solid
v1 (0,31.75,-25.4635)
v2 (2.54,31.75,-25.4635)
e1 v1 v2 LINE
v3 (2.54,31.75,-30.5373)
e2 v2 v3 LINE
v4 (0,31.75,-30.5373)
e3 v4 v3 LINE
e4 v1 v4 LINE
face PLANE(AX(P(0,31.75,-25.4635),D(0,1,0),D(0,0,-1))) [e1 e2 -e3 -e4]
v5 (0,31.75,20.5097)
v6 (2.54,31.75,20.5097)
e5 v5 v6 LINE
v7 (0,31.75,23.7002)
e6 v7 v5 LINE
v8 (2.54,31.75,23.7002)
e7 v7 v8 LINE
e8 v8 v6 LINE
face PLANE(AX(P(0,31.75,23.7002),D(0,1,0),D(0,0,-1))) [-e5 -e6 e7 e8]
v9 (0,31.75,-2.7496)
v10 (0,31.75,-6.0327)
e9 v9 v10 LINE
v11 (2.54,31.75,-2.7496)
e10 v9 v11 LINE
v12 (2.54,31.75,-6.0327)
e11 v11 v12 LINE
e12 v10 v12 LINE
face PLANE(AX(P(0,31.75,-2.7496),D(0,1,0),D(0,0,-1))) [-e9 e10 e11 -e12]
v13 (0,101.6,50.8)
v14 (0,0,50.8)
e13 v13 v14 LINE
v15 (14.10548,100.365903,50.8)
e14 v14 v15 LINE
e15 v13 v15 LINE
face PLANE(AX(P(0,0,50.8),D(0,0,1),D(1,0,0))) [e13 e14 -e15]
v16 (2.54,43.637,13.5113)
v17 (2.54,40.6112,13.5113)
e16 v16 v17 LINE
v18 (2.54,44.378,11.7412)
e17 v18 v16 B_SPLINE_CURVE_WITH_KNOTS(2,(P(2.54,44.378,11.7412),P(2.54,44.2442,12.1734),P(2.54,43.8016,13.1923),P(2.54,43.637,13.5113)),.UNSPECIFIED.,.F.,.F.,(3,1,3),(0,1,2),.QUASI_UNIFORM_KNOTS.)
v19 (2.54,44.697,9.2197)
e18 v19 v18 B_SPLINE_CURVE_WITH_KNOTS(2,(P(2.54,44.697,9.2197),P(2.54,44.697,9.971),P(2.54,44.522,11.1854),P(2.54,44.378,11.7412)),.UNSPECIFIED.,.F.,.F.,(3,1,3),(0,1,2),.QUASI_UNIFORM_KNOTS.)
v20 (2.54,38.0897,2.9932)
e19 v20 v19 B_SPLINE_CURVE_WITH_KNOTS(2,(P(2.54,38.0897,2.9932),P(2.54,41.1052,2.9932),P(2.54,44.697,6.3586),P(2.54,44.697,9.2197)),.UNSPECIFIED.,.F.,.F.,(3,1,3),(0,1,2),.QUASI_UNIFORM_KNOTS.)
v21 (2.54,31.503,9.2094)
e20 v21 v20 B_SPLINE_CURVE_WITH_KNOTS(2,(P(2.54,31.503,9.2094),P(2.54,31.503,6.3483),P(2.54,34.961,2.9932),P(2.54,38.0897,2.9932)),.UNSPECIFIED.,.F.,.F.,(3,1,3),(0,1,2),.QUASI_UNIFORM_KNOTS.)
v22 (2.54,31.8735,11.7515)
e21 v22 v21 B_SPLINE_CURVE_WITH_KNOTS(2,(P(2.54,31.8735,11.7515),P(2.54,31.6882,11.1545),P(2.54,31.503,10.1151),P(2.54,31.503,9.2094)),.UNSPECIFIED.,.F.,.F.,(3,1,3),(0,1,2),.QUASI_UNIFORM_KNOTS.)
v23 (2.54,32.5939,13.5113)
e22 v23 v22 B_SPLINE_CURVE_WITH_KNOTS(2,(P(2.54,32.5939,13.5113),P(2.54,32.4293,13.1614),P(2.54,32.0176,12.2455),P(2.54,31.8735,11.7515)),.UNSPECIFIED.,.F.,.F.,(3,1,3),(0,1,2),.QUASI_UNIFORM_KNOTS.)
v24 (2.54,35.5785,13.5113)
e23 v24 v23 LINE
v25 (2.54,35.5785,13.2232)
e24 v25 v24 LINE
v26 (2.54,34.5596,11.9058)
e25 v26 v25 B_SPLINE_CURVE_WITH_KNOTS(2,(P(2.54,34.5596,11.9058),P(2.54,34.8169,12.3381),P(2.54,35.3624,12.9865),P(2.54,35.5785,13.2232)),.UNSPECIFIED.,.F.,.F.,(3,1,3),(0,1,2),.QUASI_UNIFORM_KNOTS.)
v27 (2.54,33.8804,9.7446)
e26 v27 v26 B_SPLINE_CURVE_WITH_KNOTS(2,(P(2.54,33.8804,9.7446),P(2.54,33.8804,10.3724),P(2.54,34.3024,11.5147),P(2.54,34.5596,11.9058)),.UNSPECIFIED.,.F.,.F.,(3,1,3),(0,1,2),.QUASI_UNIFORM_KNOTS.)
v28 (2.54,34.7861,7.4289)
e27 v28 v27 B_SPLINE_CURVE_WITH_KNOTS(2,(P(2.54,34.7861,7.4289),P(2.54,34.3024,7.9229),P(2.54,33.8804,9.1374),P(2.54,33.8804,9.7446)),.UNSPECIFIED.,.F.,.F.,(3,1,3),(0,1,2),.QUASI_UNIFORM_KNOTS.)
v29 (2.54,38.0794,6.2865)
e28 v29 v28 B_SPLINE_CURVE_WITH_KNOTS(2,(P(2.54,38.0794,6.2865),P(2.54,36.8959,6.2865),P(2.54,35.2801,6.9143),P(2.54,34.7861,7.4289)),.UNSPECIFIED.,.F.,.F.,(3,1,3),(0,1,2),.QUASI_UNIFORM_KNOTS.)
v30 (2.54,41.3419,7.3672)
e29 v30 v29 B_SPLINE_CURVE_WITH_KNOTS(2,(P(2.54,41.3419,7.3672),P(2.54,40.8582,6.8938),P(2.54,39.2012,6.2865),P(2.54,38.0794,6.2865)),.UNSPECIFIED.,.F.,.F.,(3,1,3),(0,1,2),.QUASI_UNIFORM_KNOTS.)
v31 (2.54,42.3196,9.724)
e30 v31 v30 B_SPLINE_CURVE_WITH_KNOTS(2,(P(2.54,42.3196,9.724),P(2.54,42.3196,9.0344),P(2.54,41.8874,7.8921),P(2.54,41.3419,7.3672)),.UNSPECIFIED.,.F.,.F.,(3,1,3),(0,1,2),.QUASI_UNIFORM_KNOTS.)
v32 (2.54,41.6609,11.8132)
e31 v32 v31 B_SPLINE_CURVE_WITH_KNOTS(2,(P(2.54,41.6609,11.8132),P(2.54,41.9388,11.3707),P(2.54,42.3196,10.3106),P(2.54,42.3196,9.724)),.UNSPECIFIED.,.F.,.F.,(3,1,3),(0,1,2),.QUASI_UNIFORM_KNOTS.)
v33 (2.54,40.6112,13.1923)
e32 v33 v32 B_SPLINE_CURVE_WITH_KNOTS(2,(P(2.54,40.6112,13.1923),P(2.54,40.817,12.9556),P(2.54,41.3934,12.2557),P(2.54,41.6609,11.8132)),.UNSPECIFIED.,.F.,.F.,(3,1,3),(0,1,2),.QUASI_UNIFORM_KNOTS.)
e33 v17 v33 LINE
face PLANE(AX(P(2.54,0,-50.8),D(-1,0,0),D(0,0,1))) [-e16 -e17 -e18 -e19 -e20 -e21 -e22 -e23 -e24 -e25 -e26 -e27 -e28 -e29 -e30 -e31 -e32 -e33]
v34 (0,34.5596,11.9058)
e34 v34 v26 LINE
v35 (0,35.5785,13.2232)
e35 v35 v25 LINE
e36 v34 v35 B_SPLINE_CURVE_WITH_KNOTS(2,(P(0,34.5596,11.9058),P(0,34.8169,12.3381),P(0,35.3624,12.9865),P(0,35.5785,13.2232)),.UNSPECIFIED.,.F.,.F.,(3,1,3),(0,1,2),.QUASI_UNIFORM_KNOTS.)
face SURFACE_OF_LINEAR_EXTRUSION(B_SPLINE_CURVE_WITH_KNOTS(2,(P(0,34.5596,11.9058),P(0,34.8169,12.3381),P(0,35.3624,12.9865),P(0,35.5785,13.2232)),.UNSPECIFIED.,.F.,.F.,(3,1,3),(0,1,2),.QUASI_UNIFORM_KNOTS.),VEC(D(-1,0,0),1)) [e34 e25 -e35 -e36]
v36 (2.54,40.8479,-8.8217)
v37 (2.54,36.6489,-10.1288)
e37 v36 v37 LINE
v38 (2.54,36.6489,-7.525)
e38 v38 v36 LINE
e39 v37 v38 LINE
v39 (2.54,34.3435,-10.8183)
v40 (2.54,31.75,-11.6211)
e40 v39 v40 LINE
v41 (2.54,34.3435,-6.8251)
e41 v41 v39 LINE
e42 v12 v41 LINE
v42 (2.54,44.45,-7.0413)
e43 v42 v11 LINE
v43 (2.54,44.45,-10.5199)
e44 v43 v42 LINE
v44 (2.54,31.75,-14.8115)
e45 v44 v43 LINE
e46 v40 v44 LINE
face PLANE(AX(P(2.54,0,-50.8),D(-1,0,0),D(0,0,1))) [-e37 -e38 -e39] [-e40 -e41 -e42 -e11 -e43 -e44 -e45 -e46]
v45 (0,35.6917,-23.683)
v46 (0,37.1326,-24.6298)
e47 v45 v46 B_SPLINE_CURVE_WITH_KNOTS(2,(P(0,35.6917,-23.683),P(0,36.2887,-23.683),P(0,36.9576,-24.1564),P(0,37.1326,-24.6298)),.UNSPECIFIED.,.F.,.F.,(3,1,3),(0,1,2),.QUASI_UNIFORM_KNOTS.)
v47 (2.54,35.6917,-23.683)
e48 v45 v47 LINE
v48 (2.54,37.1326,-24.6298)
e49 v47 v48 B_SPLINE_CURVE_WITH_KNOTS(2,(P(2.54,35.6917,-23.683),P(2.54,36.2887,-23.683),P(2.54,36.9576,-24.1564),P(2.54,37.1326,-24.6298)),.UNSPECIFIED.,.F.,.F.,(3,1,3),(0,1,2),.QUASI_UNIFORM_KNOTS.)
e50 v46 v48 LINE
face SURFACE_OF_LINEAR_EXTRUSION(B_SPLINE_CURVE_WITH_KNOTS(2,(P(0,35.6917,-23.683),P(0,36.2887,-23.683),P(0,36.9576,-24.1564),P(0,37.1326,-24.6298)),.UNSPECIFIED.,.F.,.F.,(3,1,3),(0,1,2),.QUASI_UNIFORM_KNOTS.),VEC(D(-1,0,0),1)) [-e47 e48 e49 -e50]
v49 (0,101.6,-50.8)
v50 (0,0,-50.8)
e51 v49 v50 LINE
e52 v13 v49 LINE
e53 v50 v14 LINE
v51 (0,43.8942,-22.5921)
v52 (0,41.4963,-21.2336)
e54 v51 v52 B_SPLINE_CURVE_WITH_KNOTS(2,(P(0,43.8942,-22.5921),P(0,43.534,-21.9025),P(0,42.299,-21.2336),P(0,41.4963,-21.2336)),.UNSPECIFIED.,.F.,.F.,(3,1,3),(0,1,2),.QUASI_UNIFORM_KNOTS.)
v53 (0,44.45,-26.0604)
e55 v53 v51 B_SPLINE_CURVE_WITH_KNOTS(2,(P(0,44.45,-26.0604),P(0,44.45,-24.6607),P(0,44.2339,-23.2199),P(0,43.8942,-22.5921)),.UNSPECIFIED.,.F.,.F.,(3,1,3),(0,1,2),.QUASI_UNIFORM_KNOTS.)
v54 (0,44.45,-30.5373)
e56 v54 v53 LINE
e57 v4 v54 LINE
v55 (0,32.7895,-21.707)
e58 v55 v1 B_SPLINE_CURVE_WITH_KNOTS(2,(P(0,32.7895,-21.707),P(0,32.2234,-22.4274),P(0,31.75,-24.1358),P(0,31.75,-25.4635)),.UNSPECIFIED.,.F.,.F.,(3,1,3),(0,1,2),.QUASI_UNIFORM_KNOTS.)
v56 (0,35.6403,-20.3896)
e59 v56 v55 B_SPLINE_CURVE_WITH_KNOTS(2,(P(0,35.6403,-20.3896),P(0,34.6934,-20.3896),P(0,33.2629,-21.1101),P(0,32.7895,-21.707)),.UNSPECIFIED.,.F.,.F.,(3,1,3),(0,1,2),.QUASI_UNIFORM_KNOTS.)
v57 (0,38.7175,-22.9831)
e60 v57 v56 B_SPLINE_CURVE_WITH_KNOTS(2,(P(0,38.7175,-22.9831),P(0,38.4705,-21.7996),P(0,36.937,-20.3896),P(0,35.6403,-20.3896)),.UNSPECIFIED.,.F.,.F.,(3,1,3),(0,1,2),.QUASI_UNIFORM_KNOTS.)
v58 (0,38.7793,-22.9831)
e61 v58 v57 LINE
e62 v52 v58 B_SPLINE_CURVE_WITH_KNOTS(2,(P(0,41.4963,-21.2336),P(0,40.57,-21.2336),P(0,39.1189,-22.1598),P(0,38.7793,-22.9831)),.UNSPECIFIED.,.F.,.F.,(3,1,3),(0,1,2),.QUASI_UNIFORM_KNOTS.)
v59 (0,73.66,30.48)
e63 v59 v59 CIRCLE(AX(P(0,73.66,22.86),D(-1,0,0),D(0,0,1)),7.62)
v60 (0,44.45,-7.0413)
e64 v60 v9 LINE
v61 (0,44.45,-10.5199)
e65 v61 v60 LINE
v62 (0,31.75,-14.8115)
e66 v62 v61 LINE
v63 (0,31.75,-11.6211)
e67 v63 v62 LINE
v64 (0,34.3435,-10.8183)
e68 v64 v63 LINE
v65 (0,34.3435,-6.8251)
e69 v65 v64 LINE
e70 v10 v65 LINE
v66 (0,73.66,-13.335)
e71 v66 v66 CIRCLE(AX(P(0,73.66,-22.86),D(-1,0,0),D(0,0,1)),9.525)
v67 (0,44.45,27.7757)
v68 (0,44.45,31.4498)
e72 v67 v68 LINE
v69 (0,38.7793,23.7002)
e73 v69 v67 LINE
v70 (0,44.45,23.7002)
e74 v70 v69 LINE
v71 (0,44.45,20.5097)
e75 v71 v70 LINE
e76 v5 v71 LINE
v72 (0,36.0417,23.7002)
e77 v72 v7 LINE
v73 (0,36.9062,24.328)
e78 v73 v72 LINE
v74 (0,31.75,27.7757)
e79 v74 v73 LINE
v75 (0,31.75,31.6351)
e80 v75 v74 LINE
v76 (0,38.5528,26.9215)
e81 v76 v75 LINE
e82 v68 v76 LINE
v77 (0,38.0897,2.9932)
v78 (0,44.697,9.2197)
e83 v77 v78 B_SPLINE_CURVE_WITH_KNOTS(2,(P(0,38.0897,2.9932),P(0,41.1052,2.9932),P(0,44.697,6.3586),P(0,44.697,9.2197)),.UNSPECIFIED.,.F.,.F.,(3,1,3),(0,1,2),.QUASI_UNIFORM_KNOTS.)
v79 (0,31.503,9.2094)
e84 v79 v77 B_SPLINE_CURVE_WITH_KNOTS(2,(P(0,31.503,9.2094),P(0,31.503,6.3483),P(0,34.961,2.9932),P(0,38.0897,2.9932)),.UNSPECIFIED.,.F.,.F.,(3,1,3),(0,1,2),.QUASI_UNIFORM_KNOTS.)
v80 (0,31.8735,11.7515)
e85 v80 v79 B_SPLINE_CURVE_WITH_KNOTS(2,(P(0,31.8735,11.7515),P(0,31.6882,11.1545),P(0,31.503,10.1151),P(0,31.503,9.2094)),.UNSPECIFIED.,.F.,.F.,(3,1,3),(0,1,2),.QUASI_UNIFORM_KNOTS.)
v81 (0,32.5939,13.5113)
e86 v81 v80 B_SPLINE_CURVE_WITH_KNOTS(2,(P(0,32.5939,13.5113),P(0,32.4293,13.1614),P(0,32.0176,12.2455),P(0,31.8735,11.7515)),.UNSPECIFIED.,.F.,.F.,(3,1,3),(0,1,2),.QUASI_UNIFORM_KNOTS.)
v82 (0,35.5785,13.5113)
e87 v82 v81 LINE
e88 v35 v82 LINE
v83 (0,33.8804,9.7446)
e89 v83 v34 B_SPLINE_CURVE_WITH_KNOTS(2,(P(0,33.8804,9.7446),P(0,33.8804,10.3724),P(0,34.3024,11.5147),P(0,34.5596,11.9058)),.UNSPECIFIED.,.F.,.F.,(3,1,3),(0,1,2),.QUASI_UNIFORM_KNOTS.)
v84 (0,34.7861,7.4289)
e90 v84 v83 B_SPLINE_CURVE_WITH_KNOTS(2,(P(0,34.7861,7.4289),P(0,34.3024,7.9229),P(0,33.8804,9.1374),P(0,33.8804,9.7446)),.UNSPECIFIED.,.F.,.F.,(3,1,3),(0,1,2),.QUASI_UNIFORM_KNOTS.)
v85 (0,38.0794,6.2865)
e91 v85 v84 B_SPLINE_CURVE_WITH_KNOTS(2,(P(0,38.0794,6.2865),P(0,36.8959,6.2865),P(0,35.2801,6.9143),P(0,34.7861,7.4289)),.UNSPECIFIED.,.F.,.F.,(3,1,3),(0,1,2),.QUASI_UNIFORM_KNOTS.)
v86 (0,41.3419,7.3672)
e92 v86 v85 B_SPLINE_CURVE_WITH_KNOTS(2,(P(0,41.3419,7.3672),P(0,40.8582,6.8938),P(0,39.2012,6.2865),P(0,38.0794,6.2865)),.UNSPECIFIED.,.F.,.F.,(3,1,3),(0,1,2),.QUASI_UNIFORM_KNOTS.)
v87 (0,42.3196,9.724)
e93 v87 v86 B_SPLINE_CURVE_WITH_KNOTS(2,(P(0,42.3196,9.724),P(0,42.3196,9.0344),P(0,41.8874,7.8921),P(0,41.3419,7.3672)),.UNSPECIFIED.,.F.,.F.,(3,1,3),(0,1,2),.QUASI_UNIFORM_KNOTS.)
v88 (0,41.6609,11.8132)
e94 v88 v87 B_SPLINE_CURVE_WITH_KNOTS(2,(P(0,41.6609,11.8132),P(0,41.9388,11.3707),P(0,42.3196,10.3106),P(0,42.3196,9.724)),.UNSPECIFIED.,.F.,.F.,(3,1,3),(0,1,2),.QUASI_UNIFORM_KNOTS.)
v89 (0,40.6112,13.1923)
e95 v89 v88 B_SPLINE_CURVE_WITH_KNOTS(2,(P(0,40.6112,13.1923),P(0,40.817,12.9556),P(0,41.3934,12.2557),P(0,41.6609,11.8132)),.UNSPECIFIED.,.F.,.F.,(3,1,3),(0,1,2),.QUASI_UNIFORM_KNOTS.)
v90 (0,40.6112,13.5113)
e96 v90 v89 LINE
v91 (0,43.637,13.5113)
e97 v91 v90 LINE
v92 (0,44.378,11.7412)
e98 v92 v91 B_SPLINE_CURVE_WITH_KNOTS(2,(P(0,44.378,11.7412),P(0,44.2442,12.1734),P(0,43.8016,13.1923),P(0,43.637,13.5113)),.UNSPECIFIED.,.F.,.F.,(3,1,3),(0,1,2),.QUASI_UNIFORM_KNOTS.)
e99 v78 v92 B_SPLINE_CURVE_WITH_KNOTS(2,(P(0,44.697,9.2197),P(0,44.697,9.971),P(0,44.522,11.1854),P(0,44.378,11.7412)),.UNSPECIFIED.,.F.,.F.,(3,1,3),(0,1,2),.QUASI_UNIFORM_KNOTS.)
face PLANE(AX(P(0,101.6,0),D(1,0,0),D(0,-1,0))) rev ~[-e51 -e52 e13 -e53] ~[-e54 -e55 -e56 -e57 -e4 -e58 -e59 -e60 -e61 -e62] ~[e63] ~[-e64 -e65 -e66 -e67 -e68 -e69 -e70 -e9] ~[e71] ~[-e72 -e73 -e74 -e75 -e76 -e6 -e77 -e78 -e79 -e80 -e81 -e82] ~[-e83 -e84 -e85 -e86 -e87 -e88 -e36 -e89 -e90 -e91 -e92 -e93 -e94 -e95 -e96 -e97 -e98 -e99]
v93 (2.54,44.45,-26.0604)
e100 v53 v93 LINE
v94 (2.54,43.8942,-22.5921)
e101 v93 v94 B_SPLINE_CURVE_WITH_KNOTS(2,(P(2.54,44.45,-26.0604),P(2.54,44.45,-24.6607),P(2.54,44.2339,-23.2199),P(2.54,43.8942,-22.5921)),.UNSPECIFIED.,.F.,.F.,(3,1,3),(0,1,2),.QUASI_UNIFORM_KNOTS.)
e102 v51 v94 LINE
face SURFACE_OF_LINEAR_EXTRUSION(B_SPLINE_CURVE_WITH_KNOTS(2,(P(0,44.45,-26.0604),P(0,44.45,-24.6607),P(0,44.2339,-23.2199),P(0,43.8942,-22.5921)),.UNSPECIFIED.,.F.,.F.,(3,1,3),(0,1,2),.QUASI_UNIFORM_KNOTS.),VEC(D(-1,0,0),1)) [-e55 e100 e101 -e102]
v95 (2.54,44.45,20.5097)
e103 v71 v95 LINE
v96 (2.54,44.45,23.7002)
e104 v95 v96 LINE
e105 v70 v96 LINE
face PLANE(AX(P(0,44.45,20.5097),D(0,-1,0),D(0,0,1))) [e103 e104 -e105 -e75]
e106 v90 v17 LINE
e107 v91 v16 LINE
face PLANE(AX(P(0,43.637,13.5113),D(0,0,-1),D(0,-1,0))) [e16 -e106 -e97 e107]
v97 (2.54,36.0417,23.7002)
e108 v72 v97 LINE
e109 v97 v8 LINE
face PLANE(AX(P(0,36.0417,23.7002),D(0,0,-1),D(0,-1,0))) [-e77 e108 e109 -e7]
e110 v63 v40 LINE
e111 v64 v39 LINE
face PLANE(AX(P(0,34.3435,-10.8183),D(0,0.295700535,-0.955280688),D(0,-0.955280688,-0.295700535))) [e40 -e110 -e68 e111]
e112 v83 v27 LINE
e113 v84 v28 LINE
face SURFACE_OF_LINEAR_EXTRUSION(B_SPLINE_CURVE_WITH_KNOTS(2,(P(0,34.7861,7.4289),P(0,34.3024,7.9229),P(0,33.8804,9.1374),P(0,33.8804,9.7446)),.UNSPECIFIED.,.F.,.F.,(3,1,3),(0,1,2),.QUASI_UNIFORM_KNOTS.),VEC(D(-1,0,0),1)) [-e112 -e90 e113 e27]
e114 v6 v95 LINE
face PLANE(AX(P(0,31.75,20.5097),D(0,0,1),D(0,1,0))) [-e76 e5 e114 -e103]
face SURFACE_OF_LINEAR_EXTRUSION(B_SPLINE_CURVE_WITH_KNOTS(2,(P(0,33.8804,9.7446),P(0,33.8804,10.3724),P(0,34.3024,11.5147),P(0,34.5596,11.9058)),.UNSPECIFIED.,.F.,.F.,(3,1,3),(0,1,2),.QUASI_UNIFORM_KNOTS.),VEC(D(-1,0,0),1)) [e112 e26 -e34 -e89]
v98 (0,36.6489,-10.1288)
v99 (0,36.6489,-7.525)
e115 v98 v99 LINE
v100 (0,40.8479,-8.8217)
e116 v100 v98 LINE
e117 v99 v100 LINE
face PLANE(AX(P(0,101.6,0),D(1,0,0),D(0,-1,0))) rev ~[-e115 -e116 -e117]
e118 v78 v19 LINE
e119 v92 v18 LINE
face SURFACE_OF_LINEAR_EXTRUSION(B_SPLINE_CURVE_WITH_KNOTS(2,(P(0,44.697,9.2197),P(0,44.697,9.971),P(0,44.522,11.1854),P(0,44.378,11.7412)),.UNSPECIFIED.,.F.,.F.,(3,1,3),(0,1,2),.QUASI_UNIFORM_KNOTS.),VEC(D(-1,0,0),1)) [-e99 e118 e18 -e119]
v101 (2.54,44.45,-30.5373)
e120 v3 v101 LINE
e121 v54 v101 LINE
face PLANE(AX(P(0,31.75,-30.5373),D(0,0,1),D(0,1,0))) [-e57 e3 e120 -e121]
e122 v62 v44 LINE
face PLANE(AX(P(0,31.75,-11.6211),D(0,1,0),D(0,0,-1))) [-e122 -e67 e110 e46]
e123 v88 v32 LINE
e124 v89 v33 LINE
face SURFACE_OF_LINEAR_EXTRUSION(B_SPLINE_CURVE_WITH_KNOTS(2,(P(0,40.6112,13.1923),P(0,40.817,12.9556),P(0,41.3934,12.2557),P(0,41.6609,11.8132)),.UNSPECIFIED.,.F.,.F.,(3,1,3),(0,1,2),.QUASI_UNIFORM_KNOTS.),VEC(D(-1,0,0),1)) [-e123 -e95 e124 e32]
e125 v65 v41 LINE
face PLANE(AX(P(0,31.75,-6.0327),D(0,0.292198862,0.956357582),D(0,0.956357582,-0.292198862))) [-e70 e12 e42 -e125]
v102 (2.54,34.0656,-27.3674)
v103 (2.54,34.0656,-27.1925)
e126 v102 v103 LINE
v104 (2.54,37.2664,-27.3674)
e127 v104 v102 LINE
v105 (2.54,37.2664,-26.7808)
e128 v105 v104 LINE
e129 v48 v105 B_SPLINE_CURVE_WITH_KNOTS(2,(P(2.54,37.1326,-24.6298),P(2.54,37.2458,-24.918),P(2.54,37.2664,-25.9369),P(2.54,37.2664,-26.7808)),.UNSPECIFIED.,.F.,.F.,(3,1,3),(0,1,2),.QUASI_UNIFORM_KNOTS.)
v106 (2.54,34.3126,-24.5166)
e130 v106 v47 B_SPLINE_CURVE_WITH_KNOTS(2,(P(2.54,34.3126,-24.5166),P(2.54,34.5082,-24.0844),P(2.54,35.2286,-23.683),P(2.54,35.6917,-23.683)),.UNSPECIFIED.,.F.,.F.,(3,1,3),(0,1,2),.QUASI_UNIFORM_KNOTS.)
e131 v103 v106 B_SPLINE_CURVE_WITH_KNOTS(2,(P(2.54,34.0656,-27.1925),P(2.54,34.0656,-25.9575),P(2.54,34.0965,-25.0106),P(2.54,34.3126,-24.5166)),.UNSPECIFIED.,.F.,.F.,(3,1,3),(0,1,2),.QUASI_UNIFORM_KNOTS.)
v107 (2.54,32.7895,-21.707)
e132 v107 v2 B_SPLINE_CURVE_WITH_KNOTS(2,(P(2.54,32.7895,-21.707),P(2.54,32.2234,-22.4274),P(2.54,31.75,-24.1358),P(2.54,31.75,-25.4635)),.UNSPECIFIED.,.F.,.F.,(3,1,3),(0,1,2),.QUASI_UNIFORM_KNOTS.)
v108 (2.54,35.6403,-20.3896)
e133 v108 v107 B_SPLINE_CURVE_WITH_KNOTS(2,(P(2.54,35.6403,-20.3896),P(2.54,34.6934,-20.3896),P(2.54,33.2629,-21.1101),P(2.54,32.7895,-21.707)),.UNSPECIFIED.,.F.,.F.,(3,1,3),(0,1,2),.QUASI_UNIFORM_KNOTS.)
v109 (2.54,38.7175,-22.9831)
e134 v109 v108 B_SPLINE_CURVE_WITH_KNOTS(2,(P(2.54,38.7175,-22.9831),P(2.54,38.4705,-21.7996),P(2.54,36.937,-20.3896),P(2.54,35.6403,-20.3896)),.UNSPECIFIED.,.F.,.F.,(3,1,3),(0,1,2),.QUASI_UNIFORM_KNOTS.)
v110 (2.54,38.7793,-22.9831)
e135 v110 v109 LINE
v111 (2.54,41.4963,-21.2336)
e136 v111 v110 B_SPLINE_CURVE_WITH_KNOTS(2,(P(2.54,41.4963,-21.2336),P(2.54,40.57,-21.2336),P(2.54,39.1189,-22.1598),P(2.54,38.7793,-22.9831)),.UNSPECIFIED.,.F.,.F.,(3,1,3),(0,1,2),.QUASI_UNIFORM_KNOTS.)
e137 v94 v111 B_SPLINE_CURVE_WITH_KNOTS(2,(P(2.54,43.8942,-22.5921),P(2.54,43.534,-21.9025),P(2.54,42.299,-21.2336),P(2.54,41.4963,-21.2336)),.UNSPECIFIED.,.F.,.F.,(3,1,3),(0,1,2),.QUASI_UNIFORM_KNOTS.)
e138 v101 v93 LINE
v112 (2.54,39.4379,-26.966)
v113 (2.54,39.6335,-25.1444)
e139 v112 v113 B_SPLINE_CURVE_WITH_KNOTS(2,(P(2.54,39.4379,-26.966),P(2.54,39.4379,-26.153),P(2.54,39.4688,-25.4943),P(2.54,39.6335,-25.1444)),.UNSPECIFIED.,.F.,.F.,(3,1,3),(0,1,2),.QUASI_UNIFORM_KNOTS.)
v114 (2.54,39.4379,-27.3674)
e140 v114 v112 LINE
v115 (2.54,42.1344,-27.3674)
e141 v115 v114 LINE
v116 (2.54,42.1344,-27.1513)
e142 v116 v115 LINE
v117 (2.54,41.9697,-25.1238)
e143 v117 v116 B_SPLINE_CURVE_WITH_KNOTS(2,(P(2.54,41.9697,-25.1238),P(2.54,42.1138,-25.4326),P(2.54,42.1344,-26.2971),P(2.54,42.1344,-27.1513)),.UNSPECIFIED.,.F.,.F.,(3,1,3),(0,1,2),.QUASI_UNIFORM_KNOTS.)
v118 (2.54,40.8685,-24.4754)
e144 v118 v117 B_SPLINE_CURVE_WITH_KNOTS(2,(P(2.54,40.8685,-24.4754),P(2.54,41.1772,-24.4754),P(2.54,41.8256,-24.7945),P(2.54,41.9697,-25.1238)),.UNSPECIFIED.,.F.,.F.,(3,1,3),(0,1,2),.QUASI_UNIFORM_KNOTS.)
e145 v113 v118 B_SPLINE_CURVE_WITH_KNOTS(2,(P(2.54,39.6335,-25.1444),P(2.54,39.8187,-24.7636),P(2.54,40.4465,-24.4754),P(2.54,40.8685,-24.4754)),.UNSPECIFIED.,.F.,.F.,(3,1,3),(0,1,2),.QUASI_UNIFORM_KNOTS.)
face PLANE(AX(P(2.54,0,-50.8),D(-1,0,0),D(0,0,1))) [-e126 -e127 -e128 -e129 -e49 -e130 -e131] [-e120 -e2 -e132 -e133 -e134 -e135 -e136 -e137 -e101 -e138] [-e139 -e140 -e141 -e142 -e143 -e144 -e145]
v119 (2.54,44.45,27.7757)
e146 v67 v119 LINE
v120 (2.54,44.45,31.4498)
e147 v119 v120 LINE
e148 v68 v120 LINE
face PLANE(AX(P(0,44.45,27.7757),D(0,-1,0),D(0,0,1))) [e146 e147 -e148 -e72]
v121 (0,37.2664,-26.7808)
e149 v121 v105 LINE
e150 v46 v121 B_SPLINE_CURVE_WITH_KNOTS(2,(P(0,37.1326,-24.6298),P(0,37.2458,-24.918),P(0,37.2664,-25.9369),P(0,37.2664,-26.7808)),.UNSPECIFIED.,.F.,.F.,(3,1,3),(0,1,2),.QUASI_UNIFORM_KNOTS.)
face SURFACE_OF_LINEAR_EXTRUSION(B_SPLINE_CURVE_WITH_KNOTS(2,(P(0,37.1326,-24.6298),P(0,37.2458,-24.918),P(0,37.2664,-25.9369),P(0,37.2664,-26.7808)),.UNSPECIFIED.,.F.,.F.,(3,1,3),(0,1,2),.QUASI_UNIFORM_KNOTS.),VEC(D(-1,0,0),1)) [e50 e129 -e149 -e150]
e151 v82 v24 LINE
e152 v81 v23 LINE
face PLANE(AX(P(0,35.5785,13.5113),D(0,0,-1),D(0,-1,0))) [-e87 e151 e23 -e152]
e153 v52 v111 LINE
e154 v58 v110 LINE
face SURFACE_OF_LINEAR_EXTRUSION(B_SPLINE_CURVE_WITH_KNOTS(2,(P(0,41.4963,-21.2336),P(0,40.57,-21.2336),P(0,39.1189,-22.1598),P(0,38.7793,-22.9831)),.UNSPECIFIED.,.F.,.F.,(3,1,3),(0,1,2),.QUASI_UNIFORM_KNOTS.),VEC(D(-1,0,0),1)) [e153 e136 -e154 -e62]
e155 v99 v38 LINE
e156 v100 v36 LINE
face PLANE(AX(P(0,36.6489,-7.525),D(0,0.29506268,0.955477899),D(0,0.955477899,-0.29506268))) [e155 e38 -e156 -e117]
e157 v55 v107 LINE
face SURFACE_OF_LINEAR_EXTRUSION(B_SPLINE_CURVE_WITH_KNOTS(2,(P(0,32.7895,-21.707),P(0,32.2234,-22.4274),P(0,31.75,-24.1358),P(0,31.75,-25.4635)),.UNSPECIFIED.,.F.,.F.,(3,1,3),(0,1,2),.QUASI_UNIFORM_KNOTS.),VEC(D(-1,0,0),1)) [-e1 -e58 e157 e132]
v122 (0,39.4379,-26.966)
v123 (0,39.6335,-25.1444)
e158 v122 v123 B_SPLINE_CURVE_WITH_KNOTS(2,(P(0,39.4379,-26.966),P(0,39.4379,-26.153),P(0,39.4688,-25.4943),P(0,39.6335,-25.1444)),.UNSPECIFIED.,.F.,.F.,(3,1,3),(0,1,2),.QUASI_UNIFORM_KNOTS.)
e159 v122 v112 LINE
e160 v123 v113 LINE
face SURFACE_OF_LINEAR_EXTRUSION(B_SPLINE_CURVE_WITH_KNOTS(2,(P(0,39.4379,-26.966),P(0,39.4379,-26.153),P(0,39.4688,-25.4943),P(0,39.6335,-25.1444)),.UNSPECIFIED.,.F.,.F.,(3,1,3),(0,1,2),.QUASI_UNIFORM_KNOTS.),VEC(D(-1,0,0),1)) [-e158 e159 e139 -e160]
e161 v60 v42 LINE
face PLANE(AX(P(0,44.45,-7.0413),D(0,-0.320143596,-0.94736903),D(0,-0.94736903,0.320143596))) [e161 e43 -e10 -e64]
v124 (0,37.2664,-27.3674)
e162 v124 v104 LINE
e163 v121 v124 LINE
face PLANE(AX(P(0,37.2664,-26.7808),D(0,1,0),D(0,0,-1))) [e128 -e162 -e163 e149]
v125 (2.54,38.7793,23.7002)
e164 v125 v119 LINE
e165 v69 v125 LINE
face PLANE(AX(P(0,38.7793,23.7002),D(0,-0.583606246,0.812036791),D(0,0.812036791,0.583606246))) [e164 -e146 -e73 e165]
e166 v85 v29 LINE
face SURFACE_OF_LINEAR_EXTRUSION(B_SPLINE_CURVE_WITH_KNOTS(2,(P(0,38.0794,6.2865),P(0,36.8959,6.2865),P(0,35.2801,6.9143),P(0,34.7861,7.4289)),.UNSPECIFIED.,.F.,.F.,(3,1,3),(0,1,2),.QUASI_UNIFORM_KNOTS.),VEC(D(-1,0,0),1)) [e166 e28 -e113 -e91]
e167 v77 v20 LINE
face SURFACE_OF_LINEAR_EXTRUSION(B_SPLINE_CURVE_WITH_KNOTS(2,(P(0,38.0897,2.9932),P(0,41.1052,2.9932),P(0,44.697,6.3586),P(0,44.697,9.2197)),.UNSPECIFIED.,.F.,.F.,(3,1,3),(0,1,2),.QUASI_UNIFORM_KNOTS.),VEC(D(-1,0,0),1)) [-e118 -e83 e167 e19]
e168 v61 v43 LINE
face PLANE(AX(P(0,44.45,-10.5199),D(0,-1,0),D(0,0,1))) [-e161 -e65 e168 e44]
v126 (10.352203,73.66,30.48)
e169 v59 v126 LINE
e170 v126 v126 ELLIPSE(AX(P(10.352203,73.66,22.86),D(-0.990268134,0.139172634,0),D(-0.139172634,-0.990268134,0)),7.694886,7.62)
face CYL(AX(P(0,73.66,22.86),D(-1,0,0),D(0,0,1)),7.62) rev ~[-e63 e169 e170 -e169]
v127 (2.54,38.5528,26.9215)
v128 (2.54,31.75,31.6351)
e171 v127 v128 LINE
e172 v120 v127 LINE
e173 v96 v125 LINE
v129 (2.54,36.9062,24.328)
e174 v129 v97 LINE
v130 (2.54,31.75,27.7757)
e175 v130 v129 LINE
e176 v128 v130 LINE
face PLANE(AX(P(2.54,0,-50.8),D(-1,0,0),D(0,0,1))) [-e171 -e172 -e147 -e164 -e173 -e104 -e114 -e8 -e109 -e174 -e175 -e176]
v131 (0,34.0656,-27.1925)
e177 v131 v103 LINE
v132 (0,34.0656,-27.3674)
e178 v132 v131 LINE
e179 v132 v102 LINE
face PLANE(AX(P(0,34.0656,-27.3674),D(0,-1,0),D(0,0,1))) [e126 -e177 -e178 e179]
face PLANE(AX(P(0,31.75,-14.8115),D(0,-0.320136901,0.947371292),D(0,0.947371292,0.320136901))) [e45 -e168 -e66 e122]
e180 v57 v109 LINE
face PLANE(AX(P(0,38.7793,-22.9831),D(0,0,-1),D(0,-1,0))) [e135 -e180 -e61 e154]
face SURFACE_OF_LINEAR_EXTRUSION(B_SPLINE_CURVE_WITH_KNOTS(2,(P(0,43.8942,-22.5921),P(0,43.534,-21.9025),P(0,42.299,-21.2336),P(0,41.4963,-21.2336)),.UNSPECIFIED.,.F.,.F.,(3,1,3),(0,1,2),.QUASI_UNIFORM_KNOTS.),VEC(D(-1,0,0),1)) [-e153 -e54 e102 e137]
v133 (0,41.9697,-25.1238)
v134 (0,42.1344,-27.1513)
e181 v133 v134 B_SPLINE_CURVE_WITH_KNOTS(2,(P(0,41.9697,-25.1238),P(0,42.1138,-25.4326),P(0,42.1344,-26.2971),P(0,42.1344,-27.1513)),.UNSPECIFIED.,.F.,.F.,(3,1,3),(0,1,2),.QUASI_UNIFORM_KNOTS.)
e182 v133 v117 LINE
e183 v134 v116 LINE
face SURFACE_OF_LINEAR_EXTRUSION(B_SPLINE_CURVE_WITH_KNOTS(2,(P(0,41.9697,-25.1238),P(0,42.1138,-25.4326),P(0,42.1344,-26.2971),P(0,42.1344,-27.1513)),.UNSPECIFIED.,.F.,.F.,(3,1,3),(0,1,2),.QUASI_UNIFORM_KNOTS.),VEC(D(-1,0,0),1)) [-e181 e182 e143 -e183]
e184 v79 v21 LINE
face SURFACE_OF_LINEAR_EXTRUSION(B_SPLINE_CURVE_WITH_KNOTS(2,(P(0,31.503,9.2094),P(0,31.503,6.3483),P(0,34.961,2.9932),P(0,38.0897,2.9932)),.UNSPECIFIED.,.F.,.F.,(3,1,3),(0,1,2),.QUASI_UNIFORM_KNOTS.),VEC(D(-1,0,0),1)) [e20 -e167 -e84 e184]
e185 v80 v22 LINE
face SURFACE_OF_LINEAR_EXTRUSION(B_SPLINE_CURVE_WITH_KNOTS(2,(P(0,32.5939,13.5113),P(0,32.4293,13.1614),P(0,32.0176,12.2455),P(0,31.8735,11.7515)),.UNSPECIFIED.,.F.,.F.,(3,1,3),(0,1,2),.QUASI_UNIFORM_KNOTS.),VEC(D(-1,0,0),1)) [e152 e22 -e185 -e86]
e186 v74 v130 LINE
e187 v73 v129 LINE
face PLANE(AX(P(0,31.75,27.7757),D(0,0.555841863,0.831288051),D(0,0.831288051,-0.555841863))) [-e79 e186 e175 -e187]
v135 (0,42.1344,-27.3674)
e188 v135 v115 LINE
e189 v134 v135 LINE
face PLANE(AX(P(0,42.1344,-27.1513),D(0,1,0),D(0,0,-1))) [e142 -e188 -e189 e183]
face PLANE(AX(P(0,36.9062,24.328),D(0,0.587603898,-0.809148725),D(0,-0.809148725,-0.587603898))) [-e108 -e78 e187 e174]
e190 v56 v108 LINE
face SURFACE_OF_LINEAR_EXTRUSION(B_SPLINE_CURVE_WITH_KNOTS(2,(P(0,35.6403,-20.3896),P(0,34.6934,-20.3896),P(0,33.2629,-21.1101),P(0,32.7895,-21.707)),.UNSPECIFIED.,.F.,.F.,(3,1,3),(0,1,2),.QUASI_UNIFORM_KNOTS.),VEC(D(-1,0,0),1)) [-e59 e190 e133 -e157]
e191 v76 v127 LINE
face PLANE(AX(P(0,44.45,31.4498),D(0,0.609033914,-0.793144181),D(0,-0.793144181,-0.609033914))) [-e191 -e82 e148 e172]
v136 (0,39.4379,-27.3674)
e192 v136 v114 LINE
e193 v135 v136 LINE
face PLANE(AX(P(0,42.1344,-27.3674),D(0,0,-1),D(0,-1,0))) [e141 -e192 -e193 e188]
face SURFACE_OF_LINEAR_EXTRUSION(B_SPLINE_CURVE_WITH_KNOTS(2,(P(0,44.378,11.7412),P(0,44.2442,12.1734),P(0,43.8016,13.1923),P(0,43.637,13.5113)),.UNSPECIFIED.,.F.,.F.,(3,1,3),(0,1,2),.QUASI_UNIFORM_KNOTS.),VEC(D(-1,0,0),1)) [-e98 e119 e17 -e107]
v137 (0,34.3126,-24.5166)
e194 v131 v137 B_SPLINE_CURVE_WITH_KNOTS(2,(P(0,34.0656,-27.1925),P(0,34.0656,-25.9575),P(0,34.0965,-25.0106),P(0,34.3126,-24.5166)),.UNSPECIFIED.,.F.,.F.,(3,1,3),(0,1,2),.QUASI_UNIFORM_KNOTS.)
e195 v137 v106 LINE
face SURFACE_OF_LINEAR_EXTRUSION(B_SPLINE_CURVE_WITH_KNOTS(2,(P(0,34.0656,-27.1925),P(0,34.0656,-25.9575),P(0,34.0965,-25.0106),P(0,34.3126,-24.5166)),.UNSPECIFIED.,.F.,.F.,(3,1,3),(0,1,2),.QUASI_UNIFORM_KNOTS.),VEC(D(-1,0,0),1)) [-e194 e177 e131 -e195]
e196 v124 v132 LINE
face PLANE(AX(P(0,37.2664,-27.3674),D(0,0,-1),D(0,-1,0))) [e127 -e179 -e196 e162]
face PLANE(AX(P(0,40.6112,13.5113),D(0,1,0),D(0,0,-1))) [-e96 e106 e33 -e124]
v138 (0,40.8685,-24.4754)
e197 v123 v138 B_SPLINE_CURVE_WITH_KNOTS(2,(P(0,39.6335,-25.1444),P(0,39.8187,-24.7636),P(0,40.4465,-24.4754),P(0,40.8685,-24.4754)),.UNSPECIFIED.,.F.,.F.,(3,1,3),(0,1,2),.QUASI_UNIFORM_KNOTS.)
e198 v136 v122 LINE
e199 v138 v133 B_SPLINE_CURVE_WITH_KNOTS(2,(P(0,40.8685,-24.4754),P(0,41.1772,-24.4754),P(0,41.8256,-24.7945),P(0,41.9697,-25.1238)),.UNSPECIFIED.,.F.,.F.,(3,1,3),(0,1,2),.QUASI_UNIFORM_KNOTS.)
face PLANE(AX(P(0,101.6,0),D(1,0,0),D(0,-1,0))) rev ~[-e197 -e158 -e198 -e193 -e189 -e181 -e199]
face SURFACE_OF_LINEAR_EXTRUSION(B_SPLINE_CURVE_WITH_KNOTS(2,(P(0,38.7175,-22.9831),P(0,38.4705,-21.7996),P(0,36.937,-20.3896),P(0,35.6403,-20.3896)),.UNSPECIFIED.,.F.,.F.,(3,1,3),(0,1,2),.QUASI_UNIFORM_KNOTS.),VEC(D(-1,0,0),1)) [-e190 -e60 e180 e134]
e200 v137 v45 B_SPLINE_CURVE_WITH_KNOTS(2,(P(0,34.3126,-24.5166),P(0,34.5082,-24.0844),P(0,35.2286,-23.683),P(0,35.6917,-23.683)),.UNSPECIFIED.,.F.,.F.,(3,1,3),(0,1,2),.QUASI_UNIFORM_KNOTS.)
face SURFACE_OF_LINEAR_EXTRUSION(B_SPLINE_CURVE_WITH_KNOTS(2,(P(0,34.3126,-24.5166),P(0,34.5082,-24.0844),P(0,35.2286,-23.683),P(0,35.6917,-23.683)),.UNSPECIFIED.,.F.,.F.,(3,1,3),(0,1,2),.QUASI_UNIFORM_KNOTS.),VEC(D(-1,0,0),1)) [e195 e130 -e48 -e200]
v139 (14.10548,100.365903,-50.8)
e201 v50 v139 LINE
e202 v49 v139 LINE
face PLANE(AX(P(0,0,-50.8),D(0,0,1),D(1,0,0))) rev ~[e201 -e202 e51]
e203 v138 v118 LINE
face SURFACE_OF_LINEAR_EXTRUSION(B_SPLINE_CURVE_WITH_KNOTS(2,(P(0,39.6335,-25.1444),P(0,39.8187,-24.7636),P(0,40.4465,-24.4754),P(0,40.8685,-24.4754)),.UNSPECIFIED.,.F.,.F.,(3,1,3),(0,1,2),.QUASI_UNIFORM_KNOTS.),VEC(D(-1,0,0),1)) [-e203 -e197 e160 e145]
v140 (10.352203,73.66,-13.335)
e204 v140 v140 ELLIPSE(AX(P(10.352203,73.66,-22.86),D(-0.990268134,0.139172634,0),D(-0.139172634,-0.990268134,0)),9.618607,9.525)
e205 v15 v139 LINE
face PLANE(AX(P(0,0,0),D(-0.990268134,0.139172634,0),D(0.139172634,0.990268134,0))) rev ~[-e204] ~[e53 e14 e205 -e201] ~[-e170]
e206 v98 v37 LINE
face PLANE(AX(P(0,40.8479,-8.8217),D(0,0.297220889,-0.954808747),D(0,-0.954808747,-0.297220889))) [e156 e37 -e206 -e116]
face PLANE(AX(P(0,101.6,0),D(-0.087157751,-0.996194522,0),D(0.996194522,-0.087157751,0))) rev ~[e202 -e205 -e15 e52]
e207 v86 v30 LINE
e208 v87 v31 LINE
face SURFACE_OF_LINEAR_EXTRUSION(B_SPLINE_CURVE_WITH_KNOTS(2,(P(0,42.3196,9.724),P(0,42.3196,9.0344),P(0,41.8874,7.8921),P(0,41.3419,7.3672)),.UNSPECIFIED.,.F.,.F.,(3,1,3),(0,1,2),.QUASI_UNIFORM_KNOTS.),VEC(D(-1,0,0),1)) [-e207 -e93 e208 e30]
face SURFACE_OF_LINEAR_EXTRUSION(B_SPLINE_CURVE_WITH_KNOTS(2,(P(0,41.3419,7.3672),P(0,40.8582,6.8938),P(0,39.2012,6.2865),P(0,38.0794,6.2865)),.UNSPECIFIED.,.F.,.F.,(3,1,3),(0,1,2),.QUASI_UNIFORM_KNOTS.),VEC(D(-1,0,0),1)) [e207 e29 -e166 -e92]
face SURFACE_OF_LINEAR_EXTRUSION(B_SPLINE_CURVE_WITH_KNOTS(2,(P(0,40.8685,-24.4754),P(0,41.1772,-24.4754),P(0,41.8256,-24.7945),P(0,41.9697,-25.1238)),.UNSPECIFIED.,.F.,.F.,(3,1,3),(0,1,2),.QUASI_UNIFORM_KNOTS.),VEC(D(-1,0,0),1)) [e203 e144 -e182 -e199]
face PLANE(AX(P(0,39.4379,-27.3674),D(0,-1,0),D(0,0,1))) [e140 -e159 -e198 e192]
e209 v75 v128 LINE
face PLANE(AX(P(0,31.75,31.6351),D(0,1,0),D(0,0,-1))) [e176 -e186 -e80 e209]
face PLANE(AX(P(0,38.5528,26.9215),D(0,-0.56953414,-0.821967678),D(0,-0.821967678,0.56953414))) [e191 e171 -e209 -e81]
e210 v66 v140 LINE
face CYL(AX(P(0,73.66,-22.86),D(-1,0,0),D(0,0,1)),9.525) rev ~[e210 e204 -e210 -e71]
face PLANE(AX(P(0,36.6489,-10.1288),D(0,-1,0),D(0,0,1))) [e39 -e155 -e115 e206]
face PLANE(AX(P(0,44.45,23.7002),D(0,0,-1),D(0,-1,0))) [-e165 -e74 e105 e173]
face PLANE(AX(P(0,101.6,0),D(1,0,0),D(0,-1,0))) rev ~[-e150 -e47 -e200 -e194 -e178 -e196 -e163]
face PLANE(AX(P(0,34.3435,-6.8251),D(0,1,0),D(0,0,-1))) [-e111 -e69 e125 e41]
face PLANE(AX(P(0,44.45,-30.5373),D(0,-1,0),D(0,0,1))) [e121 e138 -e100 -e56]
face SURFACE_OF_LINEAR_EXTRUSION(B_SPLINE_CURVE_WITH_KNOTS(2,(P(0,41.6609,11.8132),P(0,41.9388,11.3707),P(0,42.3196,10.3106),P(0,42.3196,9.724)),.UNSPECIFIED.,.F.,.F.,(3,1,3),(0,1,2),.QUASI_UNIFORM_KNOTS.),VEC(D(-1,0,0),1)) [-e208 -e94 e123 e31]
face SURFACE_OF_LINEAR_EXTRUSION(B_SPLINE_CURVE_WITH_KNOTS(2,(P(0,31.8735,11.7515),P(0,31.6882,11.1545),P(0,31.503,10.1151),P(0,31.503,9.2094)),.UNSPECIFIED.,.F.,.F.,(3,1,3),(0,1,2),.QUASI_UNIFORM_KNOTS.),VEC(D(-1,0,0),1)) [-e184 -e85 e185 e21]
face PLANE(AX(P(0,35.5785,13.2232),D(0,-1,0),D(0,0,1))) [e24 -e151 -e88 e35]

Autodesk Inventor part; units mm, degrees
ref_plane "YZ Plane" through (0, 0, 0) normal (1, 0, 0) x (0, 1, 0)
ref_plane "XZ Plane" through (0, 0, 0) normal (0, 1, 0) x (-1, 0, 0)
sketch "Sketch1" plane through (0, 0, 0) normal (0, 0, 1) x (1, 0, 0)
  line L0 (0, 0) -> (14.2789, 101.6)
  line L1 (14.2789, 101.6) -> (0, 101.6)
  line L2 (0, 101.6) -> (0, 0)
  dimension "d0" = 101.6
  dimension "d1" = 8
  dimension "d2" = 14.279
extrude "Extrusion1" add sketch "Sketch1" along normal mid plane 101.6
ref_plane "Work Plane2" through (0, 0, 42.3872) normal (-1, 0, 0) x (0, 0, 1)
sketch "Sketch6" plane through (0, 0, 42.3872) normal (-1, 0, 0) x (0, 0, 1)
  line L0 (-84.1061, 73.66) -> (0, 73.66) construction
  line L1 (0, 101.6) -> (0, 0) construction
  line L2 (-84.7743, 101.6) -> (0, 101.6) construction
  circle A0 centre (-65.2472, 73.66) radius 9.525
  circle A1 centre (-19.5272, 73.66) radius 7.62
  line L3 (-42.3872, 121.92) -> (-42.3872, -20.32) projected
  point P0 (-42.3872, 0)
  dimension "d18" = 27.94
  dimension "d19" = 19.05
  dimension "d20" = 15.24
  dimension "d21" = 22.86
  dimension "d22" = 22.86
  dimension "d23" = 45.72
extrude "Extrusion5" cut sketch "Sketch6" against normal through all
ref_plane "Work Plane3" through (0, 0, 22.86) normal (0, 0, 1) x (1, 0, 0)
ref_plane "Work Plane4" through (0, 0, -22.86) normal (0, 0, 1) x (1, 0, 0)
sketch "Sketch9" plane through (0, 0, -50.8) normal (-1, 0, 0) x (0, 0, 1)
  line L0 (0, 101.6) -> (0, 0) construction
  line L1 (0, 38.1) -> (100.9997, 38.1) construction
  line L2 (0, 0) -> (101.6, 0) construction
  spline S0 degree 2 poles (30.4104, 35.6403) (30.4104, 34.6934) (29.6899, 33.2629) (29.093, 32.7895) knots 0 0 0 1 2 2 2
  spline S1 degree 2 poles (29.093, 32.7895) (28.3726, 32.2234) (26.6642, 31.75) (25.3365, 31.75) knots 0 0 0 1 2 2 2
  line L3 (25.3365, 31.75) -> (20.2627, 31.75)
  line L4 (20.2627, 31.75) -> (20.2627, 44.45)
  line L5 (20.2627, 44.45) -> (24.7396, 44.45)
  spline S2 degree 2 poles (24.7396, 44.45) (26.1393, 44.45) (27.5801, 44.2339) (28.2079, 43.8942) knots 0 0 0 1 2 2 2
  spline S3 degree 2 poles (28.2079, 43.8942) (28.8975, 43.534) (29.5664, 42.299) (29.5664, 41.4963) knots 0 0 0 1 2 2 2
  spline S4 degree 2 poles (29.5664, 41.4963) (29.5664, 40.57) (28.6402, 39.1189) (27.8169, 38.7793) knots 0 0 0 1 2 2 2
  line L6 (27.8169, 38.7793) -> (27.8169, 38.7175)
  spline S5 degree 2 poles (27.8169, 38.7175) (29.0004, 38.4705) (30.4104, 36.937) (30.4104, 35.6403) knots 0 0 0 1 2 2 2
  spline S6 degree 2 poles (27.117, 35.6917) (27.117, 36.2887) (26.6436, 36.9576) (26.1702, 37.1326) knots 0 0 0 1 2 2 2
  spline S7 degree 2 poles (26.1702, 37.1326) (25.882, 37.2458) (24.8631, 37.2664) (24.0192, 37.2664) knots 0 0 0 1 2 2 2
  line L7 (24.0192, 37.2664) -> (23.4326, 37.2664)
  line L8 (23.4326, 37.2664) -> (23.4326, 34.0656)
  line L9 (23.4326, 34.0656) -> (23.6075, 34.0656)
  spline S8 degree 2 poles (23.6075, 34.0656) (24.8425, 34.0656) (25.7894, 34.0965) (26.2834, 34.3126) knots 0 0 0 1 2 2 2
  spline S9 degree 2 poles (26.2834, 34.3126) (26.7156, 34.5082) (27.117, 35.2286) (27.117, 35.6917) knots 0 0 0 1 2 2 2
  spline S10 degree 2 poles (26.3246, 40.8685) (26.3246, 41.1772) (26.0055, 41.8256) (25.6762, 41.9697) knots 0 0 0 1 2 2 2
  spline S11 degree 2 poles (25.6762, 41.9697) (25.3674, 42.1138) (24.5029, 42.1344) (23.6487, 42.1344) knots 0 0 0 1 2 2 2
  line L10 (23.6487, 42.1344) -> (23.4326, 42.1344)
  line L11 (23.4326, 42.1344) -> (23.4326, 39.4379)
  line L12 (23.4326, 39.4379) -> (23.834, 39.4379)
  spline S12 degree 2 poles (23.834, 39.4379) (24.647, 39.4379) (25.3057, 39.4688) (25.6556, 39.6335) knots 0 0 0 1 2 2 2
  spline S13 degree 2 poles (25.6556, 39.6335) (26.0364, 39.8187) (26.3246, 40.4465) (26.3246, 40.8685) knots 0 0 0 1 2 2 2
  line L13 (35.9885, 31.75) -> (40.2801, 44.45)
  line L14 (40.2801, 44.45) -> (43.7587, 44.45)
  line L15 (43.7587, 44.45) -> (48.0504, 31.75)
  line L16 (48.0504, 31.75) -> (44.7673, 31.75)
  line L17 (44.7673, 31.75) -> (43.9749, 34.3435)
  line L18 (43.9749, 34.3435) -> (39.9817, 34.3435)
  line L19 (39.9817, 34.3435) -> (39.1789, 31.75)
  line L20 (39.1789, 31.75) -> (35.9885, 31.75)
  line L21 (43.275, 36.6489) -> (41.9783, 40.8479)
  line L22 (41.9783, 40.8479) -> (40.6712, 36.6489)
  line L23 (40.6712, 36.6489) -> (43.275, 36.6489)
  spline S14 degree 2 poles (60.0094, 31.503) (57.1483, 31.503) (53.7932, 34.961) (53.7932, 38.0897) knots 0 0 0 1 2 2 2
  spline S15 degree 2 poles (53.7932, 38.0897) (53.7932, 41.1052) (57.1586, 44.697) (60.0197, 44.697) knots 0 0 0 1 2 2 2
  spline S16 degree 2 poles (60.0197, 44.697) (60.771, 44.697) (61.9854, 44.522) (62.5412, 44.378) knots 0 0 0 1 2 2 2
  spline S17 degree 2 poles (62.5412, 44.378) (62.9734, 44.2442) (63.9923, 43.8016) (64.3113, 43.637) knots 0 0 0 1 2 2 2
  line L24 (64.3113, 43.637) -> (64.3113, 40.6112)
  line L25 (64.3113, 40.6112) -> (63.9923, 40.6112)
  spline S18 degree 2 poles (63.9923, 40.6112) (63.7556, 40.817) (63.0557, 41.3934) (62.6132, 41.6609) knots 0 0 0 1 2 2 2
  spline S19 degree 2 poles (62.6132, 41.6609) (62.1707, 41.9388) (61.1106, 42.3196) (60.524, 42.3196) knots 0 0 0 1 2 2 2
  spline S20 degree 2 poles (60.524, 42.3196) (59.8344, 42.3196) (58.6921, 41.8874) (58.1672, 41.3419) knots 0 0 0 1 2 2 2
  spline S21 degree 2 poles (58.1672, 41.3419) (57.6938, 40.8582) (57.0865, 39.2012) (57.0865, 38.0794) knots 0 0 0 1 2 2 2
  spline S22 degree 2 poles (57.0865, 38.0794) (57.0865, 36.8959) (57.7143, 35.2801) (58.2289, 34.7861) knots 0 0 0 1 2 2 2
  spline S23 degree 2 poles (58.2289, 34.7861) (58.7229, 34.3024) (59.9374, 33.8804) (60.5446, 33.8804) knots 0 0 0 1 2 2 2
  spline S24 degree 2 poles (60.5446, 33.8804) (61.1724, 33.8804) (62.3147, 34.3024) (62.7058, 34.5596) knots 0 0 0 1 2 2 2
  spline S25 degree 2 poles (62.7058, 34.5596) (63.1381, 34.8169) (63.7865, 35.3624) (64.0232, 35.5785) knots 0 0 0 1 2 2 2
  line L26 (64.0232, 35.5785) -> (64.3113, 35.5785)
  line L27 (64.3113, 35.5785) -> (64.3113, 32.5939)
  spline S26 degree 2 poles (64.3113, 32.5939) (63.9614, 32.4293) (63.0455, 32.0176) (62.5515, 31.8735) knots 0 0 0 1 2 2 2
  spline S27 degree 2 poles (62.5515, 31.8735) (61.9545, 31.6882) (60.9151, 31.503) (60.0094, 31.503) knots 0 0 0 1 2 2 2
  line L28 (82.4351, 31.75) -> (78.5757, 31.75)
  line L29 (78.5757, 31.75) -> (75.128, 36.9062)
  line L30 (75.128, 36.9062) -> (74.5002, 36.0417)
  line L31 (74.5002, 36.0417) -> (74.5002, 31.75)
  line L32 (74.5002, 31.75) -> (71.3097, 31.75)
  line L33 (71.3097, 31.75) -> (71.3097, 44.45)
  line L34 (71.3097, 44.45) -> (74.5002, 44.45)
  line L35 (74.5002, 44.45) -> (74.5002, 38.7793)
  line L36 (74.5002, 38.7793) -> (78.5757, 44.45)
  line L37 (78.5757, 44.45) -> (82.2498, 44.45)
  line L38 (82.2498, 44.45) -> (77.7215, 38.5528)
  line L39 (77.7215, 38.5528) -> (82.4351, 31.75)
  point P0 (50.8, 0)
  dimension "d35" = 38.1
extrude "TextforBack" cut sketch "Sketch9" against normal blind 2.54
sketch "Sketch10" plane through (0, 0, 0) normal (0, 0, 1) x (1, 0, 0)
  line L0 (14.2789, 101.6) -> (0, 0) projected
  line L1 (0, 101.6) -> (14.2789, 101.6) projected
  line L2 (0, 0) -> (0, 101.6) projected
  line L3 (0, 101.6) -> (14.1055, 100.3659)
  line L4 (0, 101.6) -> (14.1594, 101.6) construction
  line L5 (14.1055, 100.3659) -> (14.2789, 101.6)
  line L6 (14.2789, 101.6) -> (0, 101.6)
  dimension "d38" = 5
extrude "Extrusion8" cut sketch "Sketch10" against normal through all both and the other way through all contours L0 L3 L1
properties part number "twoPipeCover"
